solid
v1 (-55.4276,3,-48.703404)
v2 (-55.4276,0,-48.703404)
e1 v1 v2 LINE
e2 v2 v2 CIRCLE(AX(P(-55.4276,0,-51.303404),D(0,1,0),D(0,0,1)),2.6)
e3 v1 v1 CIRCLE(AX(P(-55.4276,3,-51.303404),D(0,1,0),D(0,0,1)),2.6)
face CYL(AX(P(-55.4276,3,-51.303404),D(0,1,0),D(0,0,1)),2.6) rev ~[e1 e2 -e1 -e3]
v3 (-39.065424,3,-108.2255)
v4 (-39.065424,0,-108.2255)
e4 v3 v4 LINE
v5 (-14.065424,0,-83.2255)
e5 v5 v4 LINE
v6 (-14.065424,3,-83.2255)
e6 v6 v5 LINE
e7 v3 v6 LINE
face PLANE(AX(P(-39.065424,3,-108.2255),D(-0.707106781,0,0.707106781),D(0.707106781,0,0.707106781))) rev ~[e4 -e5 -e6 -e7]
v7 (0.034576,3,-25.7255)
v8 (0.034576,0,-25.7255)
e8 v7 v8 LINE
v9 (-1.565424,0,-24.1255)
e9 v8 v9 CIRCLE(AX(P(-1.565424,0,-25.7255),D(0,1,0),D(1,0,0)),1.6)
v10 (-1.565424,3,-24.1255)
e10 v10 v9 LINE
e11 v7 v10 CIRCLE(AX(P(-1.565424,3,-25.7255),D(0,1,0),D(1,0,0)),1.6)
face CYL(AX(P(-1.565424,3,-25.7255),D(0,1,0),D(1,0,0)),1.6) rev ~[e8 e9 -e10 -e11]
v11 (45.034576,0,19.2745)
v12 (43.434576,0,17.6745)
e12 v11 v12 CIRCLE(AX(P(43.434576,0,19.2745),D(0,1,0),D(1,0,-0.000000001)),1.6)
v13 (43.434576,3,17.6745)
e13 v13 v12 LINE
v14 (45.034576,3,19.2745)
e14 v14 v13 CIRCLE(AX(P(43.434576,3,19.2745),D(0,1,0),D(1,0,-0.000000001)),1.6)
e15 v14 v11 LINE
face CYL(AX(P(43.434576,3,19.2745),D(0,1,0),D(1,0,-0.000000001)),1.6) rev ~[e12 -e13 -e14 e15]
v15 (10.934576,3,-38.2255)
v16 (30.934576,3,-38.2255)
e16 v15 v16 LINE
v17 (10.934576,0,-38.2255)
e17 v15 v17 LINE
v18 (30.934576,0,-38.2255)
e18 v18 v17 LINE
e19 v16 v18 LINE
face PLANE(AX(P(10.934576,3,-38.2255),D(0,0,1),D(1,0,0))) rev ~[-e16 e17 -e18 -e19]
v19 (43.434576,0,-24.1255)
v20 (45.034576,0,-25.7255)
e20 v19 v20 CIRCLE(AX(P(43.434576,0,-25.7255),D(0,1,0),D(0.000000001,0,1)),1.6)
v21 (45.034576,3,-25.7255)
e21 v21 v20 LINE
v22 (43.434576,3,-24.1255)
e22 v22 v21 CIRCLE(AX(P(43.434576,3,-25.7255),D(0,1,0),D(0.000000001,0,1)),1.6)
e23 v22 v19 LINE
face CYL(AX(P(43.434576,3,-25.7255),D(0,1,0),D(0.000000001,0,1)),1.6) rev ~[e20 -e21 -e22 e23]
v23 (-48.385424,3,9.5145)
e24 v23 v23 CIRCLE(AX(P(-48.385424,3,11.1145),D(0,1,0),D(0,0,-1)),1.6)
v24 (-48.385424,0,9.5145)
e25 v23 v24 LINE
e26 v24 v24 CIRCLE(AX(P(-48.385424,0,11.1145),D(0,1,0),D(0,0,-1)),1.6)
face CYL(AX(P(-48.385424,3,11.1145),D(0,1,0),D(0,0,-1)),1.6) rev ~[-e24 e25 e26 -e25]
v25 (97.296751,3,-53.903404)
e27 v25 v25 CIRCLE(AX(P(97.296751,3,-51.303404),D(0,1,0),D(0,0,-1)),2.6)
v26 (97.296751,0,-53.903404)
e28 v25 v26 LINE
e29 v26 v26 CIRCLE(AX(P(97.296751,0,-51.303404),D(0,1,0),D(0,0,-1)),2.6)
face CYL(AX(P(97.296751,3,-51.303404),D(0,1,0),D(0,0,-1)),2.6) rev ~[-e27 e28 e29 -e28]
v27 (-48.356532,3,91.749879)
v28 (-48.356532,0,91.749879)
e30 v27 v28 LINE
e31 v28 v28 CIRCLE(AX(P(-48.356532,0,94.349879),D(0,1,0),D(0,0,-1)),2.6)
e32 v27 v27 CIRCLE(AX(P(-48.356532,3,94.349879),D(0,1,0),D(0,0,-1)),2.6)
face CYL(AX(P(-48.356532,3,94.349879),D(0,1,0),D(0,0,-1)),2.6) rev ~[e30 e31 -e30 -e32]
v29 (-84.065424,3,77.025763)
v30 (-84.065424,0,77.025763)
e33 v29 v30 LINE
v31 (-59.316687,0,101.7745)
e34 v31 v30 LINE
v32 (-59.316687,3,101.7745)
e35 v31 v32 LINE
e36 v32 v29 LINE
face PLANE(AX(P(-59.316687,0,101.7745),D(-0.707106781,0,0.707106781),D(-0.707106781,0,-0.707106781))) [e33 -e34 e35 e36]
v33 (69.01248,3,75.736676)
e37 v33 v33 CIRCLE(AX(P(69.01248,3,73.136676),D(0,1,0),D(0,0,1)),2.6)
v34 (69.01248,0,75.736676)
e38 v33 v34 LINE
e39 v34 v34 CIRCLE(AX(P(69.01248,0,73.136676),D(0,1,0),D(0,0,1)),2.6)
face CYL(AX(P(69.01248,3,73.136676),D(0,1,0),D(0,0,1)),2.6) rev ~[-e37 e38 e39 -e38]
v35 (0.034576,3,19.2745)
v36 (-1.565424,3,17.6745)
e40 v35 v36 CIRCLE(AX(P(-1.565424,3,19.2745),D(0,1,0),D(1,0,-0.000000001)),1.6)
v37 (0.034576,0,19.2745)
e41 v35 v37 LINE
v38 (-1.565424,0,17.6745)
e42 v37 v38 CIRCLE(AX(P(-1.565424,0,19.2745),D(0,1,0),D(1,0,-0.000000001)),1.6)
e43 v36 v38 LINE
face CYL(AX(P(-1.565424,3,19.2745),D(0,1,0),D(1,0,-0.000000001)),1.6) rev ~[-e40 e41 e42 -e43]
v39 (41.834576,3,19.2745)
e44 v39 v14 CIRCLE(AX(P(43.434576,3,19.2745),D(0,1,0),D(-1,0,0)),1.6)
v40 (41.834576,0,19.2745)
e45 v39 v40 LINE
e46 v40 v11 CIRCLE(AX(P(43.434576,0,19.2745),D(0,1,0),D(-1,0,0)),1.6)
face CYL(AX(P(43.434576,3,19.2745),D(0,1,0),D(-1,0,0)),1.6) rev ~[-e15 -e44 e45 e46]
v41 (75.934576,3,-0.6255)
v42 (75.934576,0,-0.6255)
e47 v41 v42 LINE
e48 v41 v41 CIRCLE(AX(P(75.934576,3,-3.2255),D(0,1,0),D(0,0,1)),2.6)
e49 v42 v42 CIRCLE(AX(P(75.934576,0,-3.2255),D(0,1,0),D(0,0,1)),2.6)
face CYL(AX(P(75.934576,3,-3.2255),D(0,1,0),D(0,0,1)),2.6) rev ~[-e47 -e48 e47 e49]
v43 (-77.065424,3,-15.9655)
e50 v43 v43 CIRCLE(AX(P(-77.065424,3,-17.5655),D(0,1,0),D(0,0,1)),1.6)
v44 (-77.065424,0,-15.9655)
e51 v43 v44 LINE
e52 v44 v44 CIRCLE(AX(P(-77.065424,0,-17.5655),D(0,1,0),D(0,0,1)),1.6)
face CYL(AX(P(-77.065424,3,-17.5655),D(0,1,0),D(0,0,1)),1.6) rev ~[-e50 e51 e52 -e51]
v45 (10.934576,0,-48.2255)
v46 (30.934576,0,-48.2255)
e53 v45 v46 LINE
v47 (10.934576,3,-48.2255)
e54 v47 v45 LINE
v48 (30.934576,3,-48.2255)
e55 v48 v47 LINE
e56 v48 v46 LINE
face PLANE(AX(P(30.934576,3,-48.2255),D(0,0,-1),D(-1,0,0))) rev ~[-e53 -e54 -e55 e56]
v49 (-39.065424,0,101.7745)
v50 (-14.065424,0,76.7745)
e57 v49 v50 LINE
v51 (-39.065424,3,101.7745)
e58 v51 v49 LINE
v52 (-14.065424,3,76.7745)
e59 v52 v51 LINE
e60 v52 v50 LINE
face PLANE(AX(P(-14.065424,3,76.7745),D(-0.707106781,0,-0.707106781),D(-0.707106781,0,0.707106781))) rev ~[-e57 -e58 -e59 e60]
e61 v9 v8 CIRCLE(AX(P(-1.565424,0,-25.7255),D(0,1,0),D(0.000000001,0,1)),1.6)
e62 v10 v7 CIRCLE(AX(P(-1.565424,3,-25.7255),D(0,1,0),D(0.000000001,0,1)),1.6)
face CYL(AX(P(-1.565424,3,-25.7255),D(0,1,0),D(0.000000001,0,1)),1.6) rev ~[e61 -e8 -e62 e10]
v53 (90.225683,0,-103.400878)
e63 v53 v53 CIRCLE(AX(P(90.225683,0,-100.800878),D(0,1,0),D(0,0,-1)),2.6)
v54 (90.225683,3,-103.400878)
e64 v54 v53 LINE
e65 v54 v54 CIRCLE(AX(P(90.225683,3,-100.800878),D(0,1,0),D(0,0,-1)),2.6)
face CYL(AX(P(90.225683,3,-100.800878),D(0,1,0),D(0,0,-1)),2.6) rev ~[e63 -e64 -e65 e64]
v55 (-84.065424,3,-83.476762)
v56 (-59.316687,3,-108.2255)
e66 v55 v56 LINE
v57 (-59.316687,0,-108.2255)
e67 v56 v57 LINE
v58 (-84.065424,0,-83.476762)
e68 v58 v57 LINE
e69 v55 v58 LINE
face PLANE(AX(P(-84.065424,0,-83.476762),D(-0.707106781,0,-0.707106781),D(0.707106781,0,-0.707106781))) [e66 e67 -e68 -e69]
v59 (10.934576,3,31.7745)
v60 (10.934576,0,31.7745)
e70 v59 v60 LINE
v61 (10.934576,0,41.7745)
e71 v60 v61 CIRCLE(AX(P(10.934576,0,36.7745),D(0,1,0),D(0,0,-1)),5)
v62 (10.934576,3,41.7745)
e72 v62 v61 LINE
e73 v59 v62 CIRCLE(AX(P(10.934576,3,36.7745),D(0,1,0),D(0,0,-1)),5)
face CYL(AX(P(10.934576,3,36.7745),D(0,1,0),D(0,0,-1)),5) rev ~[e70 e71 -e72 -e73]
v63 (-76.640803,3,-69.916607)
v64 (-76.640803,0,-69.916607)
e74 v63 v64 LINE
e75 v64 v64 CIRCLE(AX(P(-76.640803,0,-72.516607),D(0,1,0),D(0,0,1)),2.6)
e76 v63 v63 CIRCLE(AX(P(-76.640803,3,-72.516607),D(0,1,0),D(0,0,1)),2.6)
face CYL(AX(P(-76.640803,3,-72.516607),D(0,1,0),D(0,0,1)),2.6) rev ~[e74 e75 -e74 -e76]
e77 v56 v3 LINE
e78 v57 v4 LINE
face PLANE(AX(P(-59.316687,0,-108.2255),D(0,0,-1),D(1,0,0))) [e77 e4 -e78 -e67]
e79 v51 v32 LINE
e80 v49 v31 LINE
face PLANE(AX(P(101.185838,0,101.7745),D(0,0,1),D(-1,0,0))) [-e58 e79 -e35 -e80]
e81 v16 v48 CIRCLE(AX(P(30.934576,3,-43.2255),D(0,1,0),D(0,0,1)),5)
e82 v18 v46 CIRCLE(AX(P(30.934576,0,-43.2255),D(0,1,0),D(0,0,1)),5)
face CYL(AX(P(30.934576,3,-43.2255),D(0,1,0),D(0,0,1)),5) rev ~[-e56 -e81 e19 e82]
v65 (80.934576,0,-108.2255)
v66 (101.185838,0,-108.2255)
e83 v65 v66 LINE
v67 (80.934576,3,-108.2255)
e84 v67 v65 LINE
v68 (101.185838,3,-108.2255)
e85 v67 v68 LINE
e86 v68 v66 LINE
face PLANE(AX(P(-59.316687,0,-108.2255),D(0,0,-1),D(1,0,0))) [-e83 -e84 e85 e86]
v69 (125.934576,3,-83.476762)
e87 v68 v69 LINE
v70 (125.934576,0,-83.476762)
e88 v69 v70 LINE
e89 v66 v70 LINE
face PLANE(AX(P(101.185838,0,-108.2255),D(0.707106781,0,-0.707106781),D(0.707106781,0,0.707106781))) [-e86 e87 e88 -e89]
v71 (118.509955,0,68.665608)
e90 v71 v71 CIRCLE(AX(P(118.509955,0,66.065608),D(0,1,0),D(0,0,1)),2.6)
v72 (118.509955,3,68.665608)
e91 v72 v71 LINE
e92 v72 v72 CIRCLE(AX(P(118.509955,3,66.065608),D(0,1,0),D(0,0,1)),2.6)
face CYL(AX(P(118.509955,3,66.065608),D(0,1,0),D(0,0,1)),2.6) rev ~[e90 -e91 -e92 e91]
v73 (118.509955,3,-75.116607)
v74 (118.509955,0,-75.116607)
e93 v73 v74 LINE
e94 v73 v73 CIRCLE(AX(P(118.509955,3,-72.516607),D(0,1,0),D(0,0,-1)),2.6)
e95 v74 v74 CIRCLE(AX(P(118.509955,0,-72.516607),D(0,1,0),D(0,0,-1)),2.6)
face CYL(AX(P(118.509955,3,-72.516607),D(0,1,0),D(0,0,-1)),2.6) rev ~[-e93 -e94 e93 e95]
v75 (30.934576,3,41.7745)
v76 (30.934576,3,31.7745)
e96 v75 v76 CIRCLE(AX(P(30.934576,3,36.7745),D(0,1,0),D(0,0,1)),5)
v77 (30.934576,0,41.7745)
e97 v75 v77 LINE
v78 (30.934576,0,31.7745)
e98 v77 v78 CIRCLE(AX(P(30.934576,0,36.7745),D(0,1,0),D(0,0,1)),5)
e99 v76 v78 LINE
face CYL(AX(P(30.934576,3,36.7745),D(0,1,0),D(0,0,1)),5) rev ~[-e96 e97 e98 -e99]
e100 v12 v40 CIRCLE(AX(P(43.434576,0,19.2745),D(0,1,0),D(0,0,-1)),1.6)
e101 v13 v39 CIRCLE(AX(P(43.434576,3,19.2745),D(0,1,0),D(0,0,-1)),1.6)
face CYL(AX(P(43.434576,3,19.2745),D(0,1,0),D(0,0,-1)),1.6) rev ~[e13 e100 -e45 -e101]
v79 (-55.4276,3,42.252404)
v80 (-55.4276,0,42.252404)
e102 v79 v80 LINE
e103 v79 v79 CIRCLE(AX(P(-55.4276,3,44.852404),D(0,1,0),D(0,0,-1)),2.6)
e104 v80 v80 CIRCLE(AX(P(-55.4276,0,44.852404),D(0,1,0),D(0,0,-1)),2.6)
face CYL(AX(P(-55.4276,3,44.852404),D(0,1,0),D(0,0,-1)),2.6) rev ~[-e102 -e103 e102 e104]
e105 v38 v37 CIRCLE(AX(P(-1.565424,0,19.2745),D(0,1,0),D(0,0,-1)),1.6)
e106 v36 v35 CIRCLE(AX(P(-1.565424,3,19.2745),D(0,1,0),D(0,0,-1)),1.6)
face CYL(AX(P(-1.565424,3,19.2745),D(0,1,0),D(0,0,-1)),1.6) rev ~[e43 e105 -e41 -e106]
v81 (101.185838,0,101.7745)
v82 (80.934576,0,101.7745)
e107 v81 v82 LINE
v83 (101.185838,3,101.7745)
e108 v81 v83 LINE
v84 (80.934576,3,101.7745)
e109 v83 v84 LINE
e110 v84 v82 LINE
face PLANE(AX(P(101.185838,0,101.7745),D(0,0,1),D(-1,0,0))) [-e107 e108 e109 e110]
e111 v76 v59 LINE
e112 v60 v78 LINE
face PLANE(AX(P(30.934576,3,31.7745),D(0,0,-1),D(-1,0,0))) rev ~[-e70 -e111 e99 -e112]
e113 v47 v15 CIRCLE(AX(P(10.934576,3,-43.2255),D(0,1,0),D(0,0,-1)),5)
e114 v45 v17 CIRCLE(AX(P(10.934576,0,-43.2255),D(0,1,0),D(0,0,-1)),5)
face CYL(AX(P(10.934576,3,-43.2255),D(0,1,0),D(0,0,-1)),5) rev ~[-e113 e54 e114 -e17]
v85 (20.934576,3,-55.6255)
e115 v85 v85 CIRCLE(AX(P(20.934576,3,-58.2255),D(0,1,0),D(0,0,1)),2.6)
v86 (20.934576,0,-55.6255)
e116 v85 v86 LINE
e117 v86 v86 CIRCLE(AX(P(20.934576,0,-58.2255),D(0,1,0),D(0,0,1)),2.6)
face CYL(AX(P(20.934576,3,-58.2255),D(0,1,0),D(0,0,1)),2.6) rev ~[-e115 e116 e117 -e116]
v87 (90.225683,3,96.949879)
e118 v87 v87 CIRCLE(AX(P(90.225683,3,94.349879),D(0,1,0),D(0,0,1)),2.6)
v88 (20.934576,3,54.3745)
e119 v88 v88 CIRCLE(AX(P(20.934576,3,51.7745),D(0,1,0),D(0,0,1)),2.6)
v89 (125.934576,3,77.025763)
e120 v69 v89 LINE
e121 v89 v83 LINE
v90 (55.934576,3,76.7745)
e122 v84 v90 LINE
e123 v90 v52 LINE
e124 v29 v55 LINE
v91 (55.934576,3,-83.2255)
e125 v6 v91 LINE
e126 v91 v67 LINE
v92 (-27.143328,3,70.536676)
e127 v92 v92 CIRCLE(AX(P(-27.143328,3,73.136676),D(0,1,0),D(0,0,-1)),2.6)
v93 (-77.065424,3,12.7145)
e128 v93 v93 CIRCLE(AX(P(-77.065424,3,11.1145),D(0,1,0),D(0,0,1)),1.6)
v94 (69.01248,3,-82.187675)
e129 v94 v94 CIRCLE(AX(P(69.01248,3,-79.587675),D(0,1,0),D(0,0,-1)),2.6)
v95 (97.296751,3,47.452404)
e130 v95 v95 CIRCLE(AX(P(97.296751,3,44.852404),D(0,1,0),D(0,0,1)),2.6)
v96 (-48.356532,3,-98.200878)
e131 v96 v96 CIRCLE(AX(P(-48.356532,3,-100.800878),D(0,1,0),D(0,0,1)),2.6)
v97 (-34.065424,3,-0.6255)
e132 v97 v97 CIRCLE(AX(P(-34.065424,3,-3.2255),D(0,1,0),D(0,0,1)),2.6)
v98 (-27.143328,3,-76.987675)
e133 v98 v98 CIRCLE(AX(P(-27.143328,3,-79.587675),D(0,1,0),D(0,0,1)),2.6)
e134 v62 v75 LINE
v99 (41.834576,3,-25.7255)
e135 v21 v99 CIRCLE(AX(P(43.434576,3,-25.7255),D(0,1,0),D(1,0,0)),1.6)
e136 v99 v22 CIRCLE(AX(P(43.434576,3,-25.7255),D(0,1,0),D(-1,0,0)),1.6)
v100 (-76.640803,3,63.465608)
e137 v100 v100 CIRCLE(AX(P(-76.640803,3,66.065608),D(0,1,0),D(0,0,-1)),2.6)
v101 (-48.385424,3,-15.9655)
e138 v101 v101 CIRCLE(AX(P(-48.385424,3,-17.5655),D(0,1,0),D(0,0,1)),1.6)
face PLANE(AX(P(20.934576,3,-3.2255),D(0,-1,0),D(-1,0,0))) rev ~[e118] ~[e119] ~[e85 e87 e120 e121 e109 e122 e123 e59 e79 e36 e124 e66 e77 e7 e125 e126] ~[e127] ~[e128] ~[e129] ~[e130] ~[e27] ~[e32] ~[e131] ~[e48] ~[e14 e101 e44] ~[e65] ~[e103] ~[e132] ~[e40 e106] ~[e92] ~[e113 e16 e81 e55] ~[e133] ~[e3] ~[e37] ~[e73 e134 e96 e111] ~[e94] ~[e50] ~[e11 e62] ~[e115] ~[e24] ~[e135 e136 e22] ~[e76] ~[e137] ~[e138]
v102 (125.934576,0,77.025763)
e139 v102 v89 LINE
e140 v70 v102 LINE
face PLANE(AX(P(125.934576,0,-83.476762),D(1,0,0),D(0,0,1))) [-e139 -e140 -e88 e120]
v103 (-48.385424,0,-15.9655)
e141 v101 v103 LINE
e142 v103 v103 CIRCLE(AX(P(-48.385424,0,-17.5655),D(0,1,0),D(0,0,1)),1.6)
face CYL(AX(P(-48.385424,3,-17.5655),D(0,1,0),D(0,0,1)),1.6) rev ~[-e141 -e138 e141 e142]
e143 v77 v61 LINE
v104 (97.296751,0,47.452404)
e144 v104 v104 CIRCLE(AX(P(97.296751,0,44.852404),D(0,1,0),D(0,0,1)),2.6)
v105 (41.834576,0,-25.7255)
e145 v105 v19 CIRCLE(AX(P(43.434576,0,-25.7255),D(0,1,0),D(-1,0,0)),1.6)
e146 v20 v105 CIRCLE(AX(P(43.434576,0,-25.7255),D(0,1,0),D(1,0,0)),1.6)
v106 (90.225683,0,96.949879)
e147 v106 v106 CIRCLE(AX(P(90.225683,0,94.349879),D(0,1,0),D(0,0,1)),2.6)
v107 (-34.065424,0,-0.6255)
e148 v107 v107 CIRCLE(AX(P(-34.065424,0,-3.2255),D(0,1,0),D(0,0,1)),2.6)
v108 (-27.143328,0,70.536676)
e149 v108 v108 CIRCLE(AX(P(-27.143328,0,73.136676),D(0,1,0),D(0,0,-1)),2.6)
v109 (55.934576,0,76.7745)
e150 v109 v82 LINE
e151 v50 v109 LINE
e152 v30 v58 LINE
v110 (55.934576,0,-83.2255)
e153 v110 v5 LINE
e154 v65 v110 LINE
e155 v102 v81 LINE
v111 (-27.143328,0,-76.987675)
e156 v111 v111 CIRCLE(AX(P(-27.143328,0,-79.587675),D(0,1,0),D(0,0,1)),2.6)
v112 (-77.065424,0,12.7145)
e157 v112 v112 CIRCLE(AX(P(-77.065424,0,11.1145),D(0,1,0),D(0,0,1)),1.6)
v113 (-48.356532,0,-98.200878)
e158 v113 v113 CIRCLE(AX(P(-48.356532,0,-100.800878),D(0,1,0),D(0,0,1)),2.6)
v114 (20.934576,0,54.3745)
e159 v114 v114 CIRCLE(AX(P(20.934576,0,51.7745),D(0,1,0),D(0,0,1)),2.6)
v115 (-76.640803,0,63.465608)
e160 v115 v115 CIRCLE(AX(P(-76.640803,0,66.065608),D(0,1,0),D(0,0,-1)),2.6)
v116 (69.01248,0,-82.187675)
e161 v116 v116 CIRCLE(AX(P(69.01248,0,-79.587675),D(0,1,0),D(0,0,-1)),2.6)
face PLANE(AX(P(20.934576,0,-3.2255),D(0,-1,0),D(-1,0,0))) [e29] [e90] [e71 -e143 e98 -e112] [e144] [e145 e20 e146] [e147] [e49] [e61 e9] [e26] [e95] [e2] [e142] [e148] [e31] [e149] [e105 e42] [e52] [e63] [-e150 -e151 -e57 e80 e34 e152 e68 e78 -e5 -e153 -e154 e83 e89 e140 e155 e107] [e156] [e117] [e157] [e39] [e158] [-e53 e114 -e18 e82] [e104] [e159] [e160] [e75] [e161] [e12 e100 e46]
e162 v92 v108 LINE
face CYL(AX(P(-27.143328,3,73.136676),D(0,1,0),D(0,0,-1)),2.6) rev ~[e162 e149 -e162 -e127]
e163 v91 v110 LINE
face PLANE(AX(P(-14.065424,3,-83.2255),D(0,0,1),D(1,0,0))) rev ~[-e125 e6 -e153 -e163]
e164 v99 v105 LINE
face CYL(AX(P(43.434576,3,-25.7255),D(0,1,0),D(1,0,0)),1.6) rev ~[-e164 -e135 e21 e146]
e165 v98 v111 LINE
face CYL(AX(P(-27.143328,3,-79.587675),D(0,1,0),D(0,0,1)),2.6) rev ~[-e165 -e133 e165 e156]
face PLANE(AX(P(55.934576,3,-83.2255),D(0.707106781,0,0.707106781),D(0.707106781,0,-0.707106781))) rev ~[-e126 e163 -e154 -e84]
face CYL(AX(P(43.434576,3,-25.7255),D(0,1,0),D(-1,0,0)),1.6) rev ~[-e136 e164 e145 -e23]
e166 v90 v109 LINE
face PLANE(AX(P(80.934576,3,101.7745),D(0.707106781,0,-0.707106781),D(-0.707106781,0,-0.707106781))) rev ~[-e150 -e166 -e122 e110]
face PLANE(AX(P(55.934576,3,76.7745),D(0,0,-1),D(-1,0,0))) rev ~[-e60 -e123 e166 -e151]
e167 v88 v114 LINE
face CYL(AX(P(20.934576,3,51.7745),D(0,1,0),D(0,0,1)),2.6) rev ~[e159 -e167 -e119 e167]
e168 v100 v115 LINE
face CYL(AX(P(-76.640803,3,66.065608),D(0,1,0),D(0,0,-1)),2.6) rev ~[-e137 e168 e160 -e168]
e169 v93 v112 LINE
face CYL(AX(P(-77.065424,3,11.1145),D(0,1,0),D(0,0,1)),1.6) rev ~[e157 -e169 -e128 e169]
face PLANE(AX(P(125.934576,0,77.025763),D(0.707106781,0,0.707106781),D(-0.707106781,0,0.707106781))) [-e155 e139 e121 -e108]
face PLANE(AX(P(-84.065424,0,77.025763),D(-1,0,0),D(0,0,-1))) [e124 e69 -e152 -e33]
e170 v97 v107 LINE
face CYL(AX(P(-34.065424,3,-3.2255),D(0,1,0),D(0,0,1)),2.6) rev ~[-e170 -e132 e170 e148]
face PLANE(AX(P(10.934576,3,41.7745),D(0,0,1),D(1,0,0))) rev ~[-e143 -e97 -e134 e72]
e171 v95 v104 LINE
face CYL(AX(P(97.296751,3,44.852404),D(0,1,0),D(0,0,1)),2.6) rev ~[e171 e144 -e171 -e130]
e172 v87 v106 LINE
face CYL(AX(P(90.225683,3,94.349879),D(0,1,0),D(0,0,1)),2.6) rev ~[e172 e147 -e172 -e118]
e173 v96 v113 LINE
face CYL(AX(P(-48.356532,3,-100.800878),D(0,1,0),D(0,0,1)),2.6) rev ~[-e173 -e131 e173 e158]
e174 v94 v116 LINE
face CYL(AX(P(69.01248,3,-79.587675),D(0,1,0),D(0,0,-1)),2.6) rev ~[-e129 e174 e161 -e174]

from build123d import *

# Parameters (mm, degrees)
BOSS_EXTRUDE1_DEPTH = 3
BOSS_EXTRUDE2_DEPTH = 2
CUT_EXTRUDE4_DEPTH  = 167.076115532
SKETCH3_R           = 2.6
CUT_EXTRUDE5_DEPTH  = 167.076115532
CUT_EXTRUDE7_DEPTH  = 167.076115532
SKETCH11_R          = 1.6
CUT_EXTRUDE10_DEPTH = 10
SKETCH12_R          = 2.6
CUT_EXTRUDE12_DEPTH = 10
CUT_EXTRUDE13_DEPTH = 167.076115532


with BuildPart() as part:
    # Sketch1 → Boss-Extrude1 (new body)
    with BuildSketch(Plane(origin=(0, 0, 0), x_dir=(1, 0, 0), z_dir=(0, 1, 0))):
        Polygon((-59.316686906, 108.225499677), (101.185838411, 108.225499677), (125.934575753, 83.476762335), (125.934575753, -77.025762982), (101.185838411, -101.774500323), (-59.316686906, -101.774500323), (-84.065424247, -77.025762982), (-84.065424247, 83.476762335), align=None)
    extrude(amount=BOSS_EXTRUDE1_DEPTH)

    # Sketch2 → Boss-Extrude2 (add)
    with BuildSketch(Plane(origin=(0, 3, 0), x_dir=(1, 0, 0), z_dir=(0, 1, 0))):
        Polygon((-84.065424247, -77.025762982), (-45.174551282, -38.134890016), (-20.425813941, -62.883627358), (-59.316686906, -101.774500323), align=None)
        Polygon((125.934575753, -77.025762982), (93.880849872, -37.104770943), (66.751068905, -58.888061335), (101.185838411, -101.774500323), align=None)
        Polygon((101.185838411, 108.225499677), (62.16108336, 69.955487183), (86.665825958, 44.96747398), (125.934575753, 83.476762335), align=None)
        Polygon((-59.316686906, 108.225499677), (-24.100270952, 65.978558399), (-50.874640527, 43.659845911), (-84.065424247, 83.476762335), align=None)
    extrude(amount=-BOSS_EXTRUDE2_DEPTH)

    # Sketch7 → Cut-Extrude4 (cut, through all)
    with BuildSketch(Plane(origin=(0, 3, 0), x_dir=(1, 0, 0), z_dir=(0, 1, 0))):
        with BuildLine():
            ThreePointArc((-1.565424247, -17.674500323), (-2.696795097, -20.405871173), (0.034575753, -19.274500323))
            Line((0.034575753, -19.274500323), (-1.565424247, -19.274500323))
            Line((-1.565424247, -19.274500323), (-1.565424247, -17.674500323))
        make_face()
        with BuildLine():
            Line((-1.565424247, -19.274500323), (0.034575753, -19.274500323))
            ThreePointArc((0.034575753, -19.274500323), (-0.434053398, -18.143129473), (-1.565424247, -17.674500323))
            Line((-1.565424247, -17.674500323), (-1.565424247, -19.274500323))
        make_face()
        with BuildLine():
            ThreePointArc((43.434575753, -17.674500323), (42.303204903, -18.143129473), (41.834575753, -19.274500323))
            Line((41.834575753, -19.274500323), (43.434575753, -19.274500323))
            Line((43.434575753, -19.274500323), (43.434575753, -17.674500323))
        make_face()
        with BuildLine():
            Line((43.434575753, -19.274500323), (41.834575753, -19.274500323))
            ThreePointArc((41.834575753, -19.274500323), (43.434575753, -20.874500323), (45.034575753, -19.274500323))
            ThreePointArc((45.034575753, -19.274500323), (44.565946602, -18.143129473), (43.434575753, -17.674500323))
            Line((43.434575753, -17.674500323), (43.434575753, -19.274500323))
        make_face()
        with BuildLine():
            ThreePointArc((45.034575753, 25.725499677), (43.434575753, 27.325499677), (41.834575753, 25.725499677))
            Line((41.834575753, 25.725499677), (43.434575753, 25.725499677))
            Line((43.434575753, 25.725499677), (43.434575753, 24.125499677))
            ThreePointArc((43.434575753, 24.125499677), (44.565946602, 24.594128827), (45.034575753, 25.725499677))
        make_face()
        with BuildLine():
            Line((43.434575753, 25.725499677), (41.834575753, 25.725499677))
            ThreePointArc((41.834575753, 25.725499677), (42.303204903, 24.594128827), (43.434575753, 24.125499677))
            Line((43.434575753, 24.125499677), (43.434575753, 25.725499677))
        make_face()
        with BuildLine():
            ThreePointArc((-1.565424247, 24.125499677), (-0.434053398, 24.594128827), (0.034575753, 25.725499677))
            Line((0.034575753, 25.725499677), (-1.565424247, 25.725499677))
            Line((-1.565424247, 25.725499677), (-1.565424247, 24.125499677))
        make_face()
        with BuildLine():
            Line((-1.565424247, 25.725499677), (0.034575753, 25.725499677))
            ThreePointArc((0.034575753, 25.725499677), (-2.696795097, 26.856870527), (-1.565424247, 24.125499677))
            Line((-1.565424247, 24.125499677), (-1.565424247, 25.725499677))
        make_face()
    extrude(amount=-CUT_EXTRUDE4_DEPTH, mode=Mode.SUBTRACT)

    # Sketch3 → Cut-Extrude5 (cut, through all)
    with BuildSketch(Plane(origin=(0, 3, 0), x_dir=(1, 0, 0), z_dir=(0, 1, 0))):
        with Locations(Location((-27.143328362, 79.587675039, 0), (0, 0, 270))):
            Circle(SKETCH3_R)
        with Locations(Location((-55.427599609, 51.303403791, 0), (0, 0, 270))):
            Circle(SKETCH3_R)
        with Locations(Location((-76.640803045, 72.516607227, 0), (0, 0, 270))):
            Circle(SKETCH3_R)
        with Locations(Location((-48.356531798, 100.800878474, 0), (0, 0, 270))):
            Circle(SKETCH3_R)
        with Locations(Location((118.50995455, 72.516607227, 0), (0, 0, 90))):
            Circle(SKETCH3_R)
        with Locations(Location((97.296751114, 51.303403791, 0), (0, 0, 90))):
            Circle(SKETCH3_R)
        with Locations(Location((69.012479867, 79.587675039, 0), (0, 0, 90))):
            Circle(SKETCH3_R)
        with Locations(Location((90.225683303, 100.800878474, 0), (0, 0, 90))):
            Circle(SKETCH3_R)
        with Locations(Location((97.296751114, -44.852404438, 0), (0, 0, 270))):
            Circle(SKETCH3_R)
        with Locations(Location((118.50995455, -66.065607873, 0), (0, 0, 270))):
            Circle(SKETCH3_R)
        with Locations(Location((90.225683303, -94.349879121, 0), (0, 0, 270))):
            Circle(SKETCH3_R)
        with Locations(Location((69.012479867, -73.136675685, 0), (0, 0, 270))):
            Circle(SKETCH3_R)
        with Locations(Location((-27.143328362, -73.136675685, 0), (0, 0, 90))):
            Circle(SKETCH3_R)
        with Locations(Location((-55.427599609, -44.852404438, 0), (0, 0, 90))):
            Circle(SKETCH3_R)
        with Locations(Location((-76.640803045, -66.065607873, 0), (0, 0, 90))):
            Circle(SKETCH3_R)
        with Locations(Location((-48.356531798, -94.349879121, 0), (0, 0, 90))):
            Circle(SKETCH3_R)
    extrude(amount=-CUT_EXTRUDE5_DEPTH, mode=Mode.SUBTRACT)

    # Sketch9 → Cut-Extrude7 (cut, through all)
    with BuildSketch(Plane(origin=(0, 3, 0), x_dir=(1, 0, 0), z_dir=(0, 1, 0))):
        Polygon((-14.065424247, 83.225499677), (55.934575753, 83.225499677), (80.934575753, 108.225499677), (-39.065424247, 108.225499677), align=None)
        Polygon((-14.065424247, -76.774500323), (-39.065424247, -101.774500323), (80.934575753, -101.774500323), (55.934575753, -76.774500323), align=None)
    extrude(amount=-CUT_EXTRUDE7_DEPTH, mode=Mode.SUBTRACT)

    # Sketch11 → Cut-Extrude10 (cut)
    with BuildSketch(Plane(origin=(0, 3, 0), x_dir=(1, 0, 0), z_dir=(0, 1, 0))):
        with Locations(Location((-77.065424247, 17.565499677, 0), (0, 0, 270))):
            Circle(SKETCH11_R)
        with Locations(Location((-77.065424247, -11.114500323, 0), (0, 0, 270))):
            Circle(SKETCH11_R)
        with Locations(Location((-48.385424247, 17.565499677, 0), (0, 0, 270))):
            Circle(SKETCH11_R)
        with Locations(Location((-48.385424247, -11.114500323, 0), (0, 0, 90))):
            Circle(SKETCH11_R)
    extrude(amount=-CUT_EXTRUDE10_DEPTH, mode=Mode.SUBTRACT)

    # Sketch12 → Cut-Extrude12 (cut)
    with BuildSketch(Plane(origin=(0, 3, 0), x_dir=(1, 0, 0), z_dir=(0, 1, 0))):
        with Locations(Location((-34.065424247, 3.225499677, 0), (0, 0, 270))):
            Circle(SKETCH12_R)
        with Locations(Location((20.934575753, -51.774500323, 0), (0, 0, 270))):
            Circle(SKETCH12_R)
        with Locations(Location((75.934575753, 3.225499677, 0), (0, 0, 270))):
            Circle(SKETCH12_R)
        with Locations(Location((20.934575753, 58.225499677, 0), (0, 0, 270))):
            Circle(SKETCH12_R)
    extrude(amount=-CUT_EXTRUDE12_DEPTH, mode=Mode.SUBTRACT)

    # Sketch13 → Cut-Extrude13 (cut, through all)
    with BuildSketch(Plane(origin=(0, 3, 0), x_dir=(1, 0, 0), z_dir=(0, 1, 0))):
        with BuildLine():
            Line((10.934575753, -41.774500323), (30.934575753, -41.774500323))
            ThreePointArc((30.934575753, -41.774500323), (35.934575753, -36.774500323), (30.934575753, -31.774500323))
            Line((30.934575753, -31.774500323), (10.934575753, -31.774500323))
            ThreePointArc((10.934575753, -31.774500323), (5.934575753, -36.774500323), (10.934575753, -41.774500323))
        make_face()
        with BuildLine():
            Line((10.934575753, 38.225499677), (30.934575753, 38.225499677))
            ThreePointArc((30.934575753, 38.225499677), (35.934575753, 43.225499677), (30.934575753, 48.225499677))
            Line((30.934575753, 48.225499677), (10.934575753, 48.225499677))
            ThreePointArc((10.934575753, 48.225499677), (5.934575753, 43.225499677), (10.934575753, 38.225499677))
        make_face()
    extrude(amount=-CUT_EXTRUDE13_DEPTH, mode=Mode.SUBTRACT)


solid = part.part
